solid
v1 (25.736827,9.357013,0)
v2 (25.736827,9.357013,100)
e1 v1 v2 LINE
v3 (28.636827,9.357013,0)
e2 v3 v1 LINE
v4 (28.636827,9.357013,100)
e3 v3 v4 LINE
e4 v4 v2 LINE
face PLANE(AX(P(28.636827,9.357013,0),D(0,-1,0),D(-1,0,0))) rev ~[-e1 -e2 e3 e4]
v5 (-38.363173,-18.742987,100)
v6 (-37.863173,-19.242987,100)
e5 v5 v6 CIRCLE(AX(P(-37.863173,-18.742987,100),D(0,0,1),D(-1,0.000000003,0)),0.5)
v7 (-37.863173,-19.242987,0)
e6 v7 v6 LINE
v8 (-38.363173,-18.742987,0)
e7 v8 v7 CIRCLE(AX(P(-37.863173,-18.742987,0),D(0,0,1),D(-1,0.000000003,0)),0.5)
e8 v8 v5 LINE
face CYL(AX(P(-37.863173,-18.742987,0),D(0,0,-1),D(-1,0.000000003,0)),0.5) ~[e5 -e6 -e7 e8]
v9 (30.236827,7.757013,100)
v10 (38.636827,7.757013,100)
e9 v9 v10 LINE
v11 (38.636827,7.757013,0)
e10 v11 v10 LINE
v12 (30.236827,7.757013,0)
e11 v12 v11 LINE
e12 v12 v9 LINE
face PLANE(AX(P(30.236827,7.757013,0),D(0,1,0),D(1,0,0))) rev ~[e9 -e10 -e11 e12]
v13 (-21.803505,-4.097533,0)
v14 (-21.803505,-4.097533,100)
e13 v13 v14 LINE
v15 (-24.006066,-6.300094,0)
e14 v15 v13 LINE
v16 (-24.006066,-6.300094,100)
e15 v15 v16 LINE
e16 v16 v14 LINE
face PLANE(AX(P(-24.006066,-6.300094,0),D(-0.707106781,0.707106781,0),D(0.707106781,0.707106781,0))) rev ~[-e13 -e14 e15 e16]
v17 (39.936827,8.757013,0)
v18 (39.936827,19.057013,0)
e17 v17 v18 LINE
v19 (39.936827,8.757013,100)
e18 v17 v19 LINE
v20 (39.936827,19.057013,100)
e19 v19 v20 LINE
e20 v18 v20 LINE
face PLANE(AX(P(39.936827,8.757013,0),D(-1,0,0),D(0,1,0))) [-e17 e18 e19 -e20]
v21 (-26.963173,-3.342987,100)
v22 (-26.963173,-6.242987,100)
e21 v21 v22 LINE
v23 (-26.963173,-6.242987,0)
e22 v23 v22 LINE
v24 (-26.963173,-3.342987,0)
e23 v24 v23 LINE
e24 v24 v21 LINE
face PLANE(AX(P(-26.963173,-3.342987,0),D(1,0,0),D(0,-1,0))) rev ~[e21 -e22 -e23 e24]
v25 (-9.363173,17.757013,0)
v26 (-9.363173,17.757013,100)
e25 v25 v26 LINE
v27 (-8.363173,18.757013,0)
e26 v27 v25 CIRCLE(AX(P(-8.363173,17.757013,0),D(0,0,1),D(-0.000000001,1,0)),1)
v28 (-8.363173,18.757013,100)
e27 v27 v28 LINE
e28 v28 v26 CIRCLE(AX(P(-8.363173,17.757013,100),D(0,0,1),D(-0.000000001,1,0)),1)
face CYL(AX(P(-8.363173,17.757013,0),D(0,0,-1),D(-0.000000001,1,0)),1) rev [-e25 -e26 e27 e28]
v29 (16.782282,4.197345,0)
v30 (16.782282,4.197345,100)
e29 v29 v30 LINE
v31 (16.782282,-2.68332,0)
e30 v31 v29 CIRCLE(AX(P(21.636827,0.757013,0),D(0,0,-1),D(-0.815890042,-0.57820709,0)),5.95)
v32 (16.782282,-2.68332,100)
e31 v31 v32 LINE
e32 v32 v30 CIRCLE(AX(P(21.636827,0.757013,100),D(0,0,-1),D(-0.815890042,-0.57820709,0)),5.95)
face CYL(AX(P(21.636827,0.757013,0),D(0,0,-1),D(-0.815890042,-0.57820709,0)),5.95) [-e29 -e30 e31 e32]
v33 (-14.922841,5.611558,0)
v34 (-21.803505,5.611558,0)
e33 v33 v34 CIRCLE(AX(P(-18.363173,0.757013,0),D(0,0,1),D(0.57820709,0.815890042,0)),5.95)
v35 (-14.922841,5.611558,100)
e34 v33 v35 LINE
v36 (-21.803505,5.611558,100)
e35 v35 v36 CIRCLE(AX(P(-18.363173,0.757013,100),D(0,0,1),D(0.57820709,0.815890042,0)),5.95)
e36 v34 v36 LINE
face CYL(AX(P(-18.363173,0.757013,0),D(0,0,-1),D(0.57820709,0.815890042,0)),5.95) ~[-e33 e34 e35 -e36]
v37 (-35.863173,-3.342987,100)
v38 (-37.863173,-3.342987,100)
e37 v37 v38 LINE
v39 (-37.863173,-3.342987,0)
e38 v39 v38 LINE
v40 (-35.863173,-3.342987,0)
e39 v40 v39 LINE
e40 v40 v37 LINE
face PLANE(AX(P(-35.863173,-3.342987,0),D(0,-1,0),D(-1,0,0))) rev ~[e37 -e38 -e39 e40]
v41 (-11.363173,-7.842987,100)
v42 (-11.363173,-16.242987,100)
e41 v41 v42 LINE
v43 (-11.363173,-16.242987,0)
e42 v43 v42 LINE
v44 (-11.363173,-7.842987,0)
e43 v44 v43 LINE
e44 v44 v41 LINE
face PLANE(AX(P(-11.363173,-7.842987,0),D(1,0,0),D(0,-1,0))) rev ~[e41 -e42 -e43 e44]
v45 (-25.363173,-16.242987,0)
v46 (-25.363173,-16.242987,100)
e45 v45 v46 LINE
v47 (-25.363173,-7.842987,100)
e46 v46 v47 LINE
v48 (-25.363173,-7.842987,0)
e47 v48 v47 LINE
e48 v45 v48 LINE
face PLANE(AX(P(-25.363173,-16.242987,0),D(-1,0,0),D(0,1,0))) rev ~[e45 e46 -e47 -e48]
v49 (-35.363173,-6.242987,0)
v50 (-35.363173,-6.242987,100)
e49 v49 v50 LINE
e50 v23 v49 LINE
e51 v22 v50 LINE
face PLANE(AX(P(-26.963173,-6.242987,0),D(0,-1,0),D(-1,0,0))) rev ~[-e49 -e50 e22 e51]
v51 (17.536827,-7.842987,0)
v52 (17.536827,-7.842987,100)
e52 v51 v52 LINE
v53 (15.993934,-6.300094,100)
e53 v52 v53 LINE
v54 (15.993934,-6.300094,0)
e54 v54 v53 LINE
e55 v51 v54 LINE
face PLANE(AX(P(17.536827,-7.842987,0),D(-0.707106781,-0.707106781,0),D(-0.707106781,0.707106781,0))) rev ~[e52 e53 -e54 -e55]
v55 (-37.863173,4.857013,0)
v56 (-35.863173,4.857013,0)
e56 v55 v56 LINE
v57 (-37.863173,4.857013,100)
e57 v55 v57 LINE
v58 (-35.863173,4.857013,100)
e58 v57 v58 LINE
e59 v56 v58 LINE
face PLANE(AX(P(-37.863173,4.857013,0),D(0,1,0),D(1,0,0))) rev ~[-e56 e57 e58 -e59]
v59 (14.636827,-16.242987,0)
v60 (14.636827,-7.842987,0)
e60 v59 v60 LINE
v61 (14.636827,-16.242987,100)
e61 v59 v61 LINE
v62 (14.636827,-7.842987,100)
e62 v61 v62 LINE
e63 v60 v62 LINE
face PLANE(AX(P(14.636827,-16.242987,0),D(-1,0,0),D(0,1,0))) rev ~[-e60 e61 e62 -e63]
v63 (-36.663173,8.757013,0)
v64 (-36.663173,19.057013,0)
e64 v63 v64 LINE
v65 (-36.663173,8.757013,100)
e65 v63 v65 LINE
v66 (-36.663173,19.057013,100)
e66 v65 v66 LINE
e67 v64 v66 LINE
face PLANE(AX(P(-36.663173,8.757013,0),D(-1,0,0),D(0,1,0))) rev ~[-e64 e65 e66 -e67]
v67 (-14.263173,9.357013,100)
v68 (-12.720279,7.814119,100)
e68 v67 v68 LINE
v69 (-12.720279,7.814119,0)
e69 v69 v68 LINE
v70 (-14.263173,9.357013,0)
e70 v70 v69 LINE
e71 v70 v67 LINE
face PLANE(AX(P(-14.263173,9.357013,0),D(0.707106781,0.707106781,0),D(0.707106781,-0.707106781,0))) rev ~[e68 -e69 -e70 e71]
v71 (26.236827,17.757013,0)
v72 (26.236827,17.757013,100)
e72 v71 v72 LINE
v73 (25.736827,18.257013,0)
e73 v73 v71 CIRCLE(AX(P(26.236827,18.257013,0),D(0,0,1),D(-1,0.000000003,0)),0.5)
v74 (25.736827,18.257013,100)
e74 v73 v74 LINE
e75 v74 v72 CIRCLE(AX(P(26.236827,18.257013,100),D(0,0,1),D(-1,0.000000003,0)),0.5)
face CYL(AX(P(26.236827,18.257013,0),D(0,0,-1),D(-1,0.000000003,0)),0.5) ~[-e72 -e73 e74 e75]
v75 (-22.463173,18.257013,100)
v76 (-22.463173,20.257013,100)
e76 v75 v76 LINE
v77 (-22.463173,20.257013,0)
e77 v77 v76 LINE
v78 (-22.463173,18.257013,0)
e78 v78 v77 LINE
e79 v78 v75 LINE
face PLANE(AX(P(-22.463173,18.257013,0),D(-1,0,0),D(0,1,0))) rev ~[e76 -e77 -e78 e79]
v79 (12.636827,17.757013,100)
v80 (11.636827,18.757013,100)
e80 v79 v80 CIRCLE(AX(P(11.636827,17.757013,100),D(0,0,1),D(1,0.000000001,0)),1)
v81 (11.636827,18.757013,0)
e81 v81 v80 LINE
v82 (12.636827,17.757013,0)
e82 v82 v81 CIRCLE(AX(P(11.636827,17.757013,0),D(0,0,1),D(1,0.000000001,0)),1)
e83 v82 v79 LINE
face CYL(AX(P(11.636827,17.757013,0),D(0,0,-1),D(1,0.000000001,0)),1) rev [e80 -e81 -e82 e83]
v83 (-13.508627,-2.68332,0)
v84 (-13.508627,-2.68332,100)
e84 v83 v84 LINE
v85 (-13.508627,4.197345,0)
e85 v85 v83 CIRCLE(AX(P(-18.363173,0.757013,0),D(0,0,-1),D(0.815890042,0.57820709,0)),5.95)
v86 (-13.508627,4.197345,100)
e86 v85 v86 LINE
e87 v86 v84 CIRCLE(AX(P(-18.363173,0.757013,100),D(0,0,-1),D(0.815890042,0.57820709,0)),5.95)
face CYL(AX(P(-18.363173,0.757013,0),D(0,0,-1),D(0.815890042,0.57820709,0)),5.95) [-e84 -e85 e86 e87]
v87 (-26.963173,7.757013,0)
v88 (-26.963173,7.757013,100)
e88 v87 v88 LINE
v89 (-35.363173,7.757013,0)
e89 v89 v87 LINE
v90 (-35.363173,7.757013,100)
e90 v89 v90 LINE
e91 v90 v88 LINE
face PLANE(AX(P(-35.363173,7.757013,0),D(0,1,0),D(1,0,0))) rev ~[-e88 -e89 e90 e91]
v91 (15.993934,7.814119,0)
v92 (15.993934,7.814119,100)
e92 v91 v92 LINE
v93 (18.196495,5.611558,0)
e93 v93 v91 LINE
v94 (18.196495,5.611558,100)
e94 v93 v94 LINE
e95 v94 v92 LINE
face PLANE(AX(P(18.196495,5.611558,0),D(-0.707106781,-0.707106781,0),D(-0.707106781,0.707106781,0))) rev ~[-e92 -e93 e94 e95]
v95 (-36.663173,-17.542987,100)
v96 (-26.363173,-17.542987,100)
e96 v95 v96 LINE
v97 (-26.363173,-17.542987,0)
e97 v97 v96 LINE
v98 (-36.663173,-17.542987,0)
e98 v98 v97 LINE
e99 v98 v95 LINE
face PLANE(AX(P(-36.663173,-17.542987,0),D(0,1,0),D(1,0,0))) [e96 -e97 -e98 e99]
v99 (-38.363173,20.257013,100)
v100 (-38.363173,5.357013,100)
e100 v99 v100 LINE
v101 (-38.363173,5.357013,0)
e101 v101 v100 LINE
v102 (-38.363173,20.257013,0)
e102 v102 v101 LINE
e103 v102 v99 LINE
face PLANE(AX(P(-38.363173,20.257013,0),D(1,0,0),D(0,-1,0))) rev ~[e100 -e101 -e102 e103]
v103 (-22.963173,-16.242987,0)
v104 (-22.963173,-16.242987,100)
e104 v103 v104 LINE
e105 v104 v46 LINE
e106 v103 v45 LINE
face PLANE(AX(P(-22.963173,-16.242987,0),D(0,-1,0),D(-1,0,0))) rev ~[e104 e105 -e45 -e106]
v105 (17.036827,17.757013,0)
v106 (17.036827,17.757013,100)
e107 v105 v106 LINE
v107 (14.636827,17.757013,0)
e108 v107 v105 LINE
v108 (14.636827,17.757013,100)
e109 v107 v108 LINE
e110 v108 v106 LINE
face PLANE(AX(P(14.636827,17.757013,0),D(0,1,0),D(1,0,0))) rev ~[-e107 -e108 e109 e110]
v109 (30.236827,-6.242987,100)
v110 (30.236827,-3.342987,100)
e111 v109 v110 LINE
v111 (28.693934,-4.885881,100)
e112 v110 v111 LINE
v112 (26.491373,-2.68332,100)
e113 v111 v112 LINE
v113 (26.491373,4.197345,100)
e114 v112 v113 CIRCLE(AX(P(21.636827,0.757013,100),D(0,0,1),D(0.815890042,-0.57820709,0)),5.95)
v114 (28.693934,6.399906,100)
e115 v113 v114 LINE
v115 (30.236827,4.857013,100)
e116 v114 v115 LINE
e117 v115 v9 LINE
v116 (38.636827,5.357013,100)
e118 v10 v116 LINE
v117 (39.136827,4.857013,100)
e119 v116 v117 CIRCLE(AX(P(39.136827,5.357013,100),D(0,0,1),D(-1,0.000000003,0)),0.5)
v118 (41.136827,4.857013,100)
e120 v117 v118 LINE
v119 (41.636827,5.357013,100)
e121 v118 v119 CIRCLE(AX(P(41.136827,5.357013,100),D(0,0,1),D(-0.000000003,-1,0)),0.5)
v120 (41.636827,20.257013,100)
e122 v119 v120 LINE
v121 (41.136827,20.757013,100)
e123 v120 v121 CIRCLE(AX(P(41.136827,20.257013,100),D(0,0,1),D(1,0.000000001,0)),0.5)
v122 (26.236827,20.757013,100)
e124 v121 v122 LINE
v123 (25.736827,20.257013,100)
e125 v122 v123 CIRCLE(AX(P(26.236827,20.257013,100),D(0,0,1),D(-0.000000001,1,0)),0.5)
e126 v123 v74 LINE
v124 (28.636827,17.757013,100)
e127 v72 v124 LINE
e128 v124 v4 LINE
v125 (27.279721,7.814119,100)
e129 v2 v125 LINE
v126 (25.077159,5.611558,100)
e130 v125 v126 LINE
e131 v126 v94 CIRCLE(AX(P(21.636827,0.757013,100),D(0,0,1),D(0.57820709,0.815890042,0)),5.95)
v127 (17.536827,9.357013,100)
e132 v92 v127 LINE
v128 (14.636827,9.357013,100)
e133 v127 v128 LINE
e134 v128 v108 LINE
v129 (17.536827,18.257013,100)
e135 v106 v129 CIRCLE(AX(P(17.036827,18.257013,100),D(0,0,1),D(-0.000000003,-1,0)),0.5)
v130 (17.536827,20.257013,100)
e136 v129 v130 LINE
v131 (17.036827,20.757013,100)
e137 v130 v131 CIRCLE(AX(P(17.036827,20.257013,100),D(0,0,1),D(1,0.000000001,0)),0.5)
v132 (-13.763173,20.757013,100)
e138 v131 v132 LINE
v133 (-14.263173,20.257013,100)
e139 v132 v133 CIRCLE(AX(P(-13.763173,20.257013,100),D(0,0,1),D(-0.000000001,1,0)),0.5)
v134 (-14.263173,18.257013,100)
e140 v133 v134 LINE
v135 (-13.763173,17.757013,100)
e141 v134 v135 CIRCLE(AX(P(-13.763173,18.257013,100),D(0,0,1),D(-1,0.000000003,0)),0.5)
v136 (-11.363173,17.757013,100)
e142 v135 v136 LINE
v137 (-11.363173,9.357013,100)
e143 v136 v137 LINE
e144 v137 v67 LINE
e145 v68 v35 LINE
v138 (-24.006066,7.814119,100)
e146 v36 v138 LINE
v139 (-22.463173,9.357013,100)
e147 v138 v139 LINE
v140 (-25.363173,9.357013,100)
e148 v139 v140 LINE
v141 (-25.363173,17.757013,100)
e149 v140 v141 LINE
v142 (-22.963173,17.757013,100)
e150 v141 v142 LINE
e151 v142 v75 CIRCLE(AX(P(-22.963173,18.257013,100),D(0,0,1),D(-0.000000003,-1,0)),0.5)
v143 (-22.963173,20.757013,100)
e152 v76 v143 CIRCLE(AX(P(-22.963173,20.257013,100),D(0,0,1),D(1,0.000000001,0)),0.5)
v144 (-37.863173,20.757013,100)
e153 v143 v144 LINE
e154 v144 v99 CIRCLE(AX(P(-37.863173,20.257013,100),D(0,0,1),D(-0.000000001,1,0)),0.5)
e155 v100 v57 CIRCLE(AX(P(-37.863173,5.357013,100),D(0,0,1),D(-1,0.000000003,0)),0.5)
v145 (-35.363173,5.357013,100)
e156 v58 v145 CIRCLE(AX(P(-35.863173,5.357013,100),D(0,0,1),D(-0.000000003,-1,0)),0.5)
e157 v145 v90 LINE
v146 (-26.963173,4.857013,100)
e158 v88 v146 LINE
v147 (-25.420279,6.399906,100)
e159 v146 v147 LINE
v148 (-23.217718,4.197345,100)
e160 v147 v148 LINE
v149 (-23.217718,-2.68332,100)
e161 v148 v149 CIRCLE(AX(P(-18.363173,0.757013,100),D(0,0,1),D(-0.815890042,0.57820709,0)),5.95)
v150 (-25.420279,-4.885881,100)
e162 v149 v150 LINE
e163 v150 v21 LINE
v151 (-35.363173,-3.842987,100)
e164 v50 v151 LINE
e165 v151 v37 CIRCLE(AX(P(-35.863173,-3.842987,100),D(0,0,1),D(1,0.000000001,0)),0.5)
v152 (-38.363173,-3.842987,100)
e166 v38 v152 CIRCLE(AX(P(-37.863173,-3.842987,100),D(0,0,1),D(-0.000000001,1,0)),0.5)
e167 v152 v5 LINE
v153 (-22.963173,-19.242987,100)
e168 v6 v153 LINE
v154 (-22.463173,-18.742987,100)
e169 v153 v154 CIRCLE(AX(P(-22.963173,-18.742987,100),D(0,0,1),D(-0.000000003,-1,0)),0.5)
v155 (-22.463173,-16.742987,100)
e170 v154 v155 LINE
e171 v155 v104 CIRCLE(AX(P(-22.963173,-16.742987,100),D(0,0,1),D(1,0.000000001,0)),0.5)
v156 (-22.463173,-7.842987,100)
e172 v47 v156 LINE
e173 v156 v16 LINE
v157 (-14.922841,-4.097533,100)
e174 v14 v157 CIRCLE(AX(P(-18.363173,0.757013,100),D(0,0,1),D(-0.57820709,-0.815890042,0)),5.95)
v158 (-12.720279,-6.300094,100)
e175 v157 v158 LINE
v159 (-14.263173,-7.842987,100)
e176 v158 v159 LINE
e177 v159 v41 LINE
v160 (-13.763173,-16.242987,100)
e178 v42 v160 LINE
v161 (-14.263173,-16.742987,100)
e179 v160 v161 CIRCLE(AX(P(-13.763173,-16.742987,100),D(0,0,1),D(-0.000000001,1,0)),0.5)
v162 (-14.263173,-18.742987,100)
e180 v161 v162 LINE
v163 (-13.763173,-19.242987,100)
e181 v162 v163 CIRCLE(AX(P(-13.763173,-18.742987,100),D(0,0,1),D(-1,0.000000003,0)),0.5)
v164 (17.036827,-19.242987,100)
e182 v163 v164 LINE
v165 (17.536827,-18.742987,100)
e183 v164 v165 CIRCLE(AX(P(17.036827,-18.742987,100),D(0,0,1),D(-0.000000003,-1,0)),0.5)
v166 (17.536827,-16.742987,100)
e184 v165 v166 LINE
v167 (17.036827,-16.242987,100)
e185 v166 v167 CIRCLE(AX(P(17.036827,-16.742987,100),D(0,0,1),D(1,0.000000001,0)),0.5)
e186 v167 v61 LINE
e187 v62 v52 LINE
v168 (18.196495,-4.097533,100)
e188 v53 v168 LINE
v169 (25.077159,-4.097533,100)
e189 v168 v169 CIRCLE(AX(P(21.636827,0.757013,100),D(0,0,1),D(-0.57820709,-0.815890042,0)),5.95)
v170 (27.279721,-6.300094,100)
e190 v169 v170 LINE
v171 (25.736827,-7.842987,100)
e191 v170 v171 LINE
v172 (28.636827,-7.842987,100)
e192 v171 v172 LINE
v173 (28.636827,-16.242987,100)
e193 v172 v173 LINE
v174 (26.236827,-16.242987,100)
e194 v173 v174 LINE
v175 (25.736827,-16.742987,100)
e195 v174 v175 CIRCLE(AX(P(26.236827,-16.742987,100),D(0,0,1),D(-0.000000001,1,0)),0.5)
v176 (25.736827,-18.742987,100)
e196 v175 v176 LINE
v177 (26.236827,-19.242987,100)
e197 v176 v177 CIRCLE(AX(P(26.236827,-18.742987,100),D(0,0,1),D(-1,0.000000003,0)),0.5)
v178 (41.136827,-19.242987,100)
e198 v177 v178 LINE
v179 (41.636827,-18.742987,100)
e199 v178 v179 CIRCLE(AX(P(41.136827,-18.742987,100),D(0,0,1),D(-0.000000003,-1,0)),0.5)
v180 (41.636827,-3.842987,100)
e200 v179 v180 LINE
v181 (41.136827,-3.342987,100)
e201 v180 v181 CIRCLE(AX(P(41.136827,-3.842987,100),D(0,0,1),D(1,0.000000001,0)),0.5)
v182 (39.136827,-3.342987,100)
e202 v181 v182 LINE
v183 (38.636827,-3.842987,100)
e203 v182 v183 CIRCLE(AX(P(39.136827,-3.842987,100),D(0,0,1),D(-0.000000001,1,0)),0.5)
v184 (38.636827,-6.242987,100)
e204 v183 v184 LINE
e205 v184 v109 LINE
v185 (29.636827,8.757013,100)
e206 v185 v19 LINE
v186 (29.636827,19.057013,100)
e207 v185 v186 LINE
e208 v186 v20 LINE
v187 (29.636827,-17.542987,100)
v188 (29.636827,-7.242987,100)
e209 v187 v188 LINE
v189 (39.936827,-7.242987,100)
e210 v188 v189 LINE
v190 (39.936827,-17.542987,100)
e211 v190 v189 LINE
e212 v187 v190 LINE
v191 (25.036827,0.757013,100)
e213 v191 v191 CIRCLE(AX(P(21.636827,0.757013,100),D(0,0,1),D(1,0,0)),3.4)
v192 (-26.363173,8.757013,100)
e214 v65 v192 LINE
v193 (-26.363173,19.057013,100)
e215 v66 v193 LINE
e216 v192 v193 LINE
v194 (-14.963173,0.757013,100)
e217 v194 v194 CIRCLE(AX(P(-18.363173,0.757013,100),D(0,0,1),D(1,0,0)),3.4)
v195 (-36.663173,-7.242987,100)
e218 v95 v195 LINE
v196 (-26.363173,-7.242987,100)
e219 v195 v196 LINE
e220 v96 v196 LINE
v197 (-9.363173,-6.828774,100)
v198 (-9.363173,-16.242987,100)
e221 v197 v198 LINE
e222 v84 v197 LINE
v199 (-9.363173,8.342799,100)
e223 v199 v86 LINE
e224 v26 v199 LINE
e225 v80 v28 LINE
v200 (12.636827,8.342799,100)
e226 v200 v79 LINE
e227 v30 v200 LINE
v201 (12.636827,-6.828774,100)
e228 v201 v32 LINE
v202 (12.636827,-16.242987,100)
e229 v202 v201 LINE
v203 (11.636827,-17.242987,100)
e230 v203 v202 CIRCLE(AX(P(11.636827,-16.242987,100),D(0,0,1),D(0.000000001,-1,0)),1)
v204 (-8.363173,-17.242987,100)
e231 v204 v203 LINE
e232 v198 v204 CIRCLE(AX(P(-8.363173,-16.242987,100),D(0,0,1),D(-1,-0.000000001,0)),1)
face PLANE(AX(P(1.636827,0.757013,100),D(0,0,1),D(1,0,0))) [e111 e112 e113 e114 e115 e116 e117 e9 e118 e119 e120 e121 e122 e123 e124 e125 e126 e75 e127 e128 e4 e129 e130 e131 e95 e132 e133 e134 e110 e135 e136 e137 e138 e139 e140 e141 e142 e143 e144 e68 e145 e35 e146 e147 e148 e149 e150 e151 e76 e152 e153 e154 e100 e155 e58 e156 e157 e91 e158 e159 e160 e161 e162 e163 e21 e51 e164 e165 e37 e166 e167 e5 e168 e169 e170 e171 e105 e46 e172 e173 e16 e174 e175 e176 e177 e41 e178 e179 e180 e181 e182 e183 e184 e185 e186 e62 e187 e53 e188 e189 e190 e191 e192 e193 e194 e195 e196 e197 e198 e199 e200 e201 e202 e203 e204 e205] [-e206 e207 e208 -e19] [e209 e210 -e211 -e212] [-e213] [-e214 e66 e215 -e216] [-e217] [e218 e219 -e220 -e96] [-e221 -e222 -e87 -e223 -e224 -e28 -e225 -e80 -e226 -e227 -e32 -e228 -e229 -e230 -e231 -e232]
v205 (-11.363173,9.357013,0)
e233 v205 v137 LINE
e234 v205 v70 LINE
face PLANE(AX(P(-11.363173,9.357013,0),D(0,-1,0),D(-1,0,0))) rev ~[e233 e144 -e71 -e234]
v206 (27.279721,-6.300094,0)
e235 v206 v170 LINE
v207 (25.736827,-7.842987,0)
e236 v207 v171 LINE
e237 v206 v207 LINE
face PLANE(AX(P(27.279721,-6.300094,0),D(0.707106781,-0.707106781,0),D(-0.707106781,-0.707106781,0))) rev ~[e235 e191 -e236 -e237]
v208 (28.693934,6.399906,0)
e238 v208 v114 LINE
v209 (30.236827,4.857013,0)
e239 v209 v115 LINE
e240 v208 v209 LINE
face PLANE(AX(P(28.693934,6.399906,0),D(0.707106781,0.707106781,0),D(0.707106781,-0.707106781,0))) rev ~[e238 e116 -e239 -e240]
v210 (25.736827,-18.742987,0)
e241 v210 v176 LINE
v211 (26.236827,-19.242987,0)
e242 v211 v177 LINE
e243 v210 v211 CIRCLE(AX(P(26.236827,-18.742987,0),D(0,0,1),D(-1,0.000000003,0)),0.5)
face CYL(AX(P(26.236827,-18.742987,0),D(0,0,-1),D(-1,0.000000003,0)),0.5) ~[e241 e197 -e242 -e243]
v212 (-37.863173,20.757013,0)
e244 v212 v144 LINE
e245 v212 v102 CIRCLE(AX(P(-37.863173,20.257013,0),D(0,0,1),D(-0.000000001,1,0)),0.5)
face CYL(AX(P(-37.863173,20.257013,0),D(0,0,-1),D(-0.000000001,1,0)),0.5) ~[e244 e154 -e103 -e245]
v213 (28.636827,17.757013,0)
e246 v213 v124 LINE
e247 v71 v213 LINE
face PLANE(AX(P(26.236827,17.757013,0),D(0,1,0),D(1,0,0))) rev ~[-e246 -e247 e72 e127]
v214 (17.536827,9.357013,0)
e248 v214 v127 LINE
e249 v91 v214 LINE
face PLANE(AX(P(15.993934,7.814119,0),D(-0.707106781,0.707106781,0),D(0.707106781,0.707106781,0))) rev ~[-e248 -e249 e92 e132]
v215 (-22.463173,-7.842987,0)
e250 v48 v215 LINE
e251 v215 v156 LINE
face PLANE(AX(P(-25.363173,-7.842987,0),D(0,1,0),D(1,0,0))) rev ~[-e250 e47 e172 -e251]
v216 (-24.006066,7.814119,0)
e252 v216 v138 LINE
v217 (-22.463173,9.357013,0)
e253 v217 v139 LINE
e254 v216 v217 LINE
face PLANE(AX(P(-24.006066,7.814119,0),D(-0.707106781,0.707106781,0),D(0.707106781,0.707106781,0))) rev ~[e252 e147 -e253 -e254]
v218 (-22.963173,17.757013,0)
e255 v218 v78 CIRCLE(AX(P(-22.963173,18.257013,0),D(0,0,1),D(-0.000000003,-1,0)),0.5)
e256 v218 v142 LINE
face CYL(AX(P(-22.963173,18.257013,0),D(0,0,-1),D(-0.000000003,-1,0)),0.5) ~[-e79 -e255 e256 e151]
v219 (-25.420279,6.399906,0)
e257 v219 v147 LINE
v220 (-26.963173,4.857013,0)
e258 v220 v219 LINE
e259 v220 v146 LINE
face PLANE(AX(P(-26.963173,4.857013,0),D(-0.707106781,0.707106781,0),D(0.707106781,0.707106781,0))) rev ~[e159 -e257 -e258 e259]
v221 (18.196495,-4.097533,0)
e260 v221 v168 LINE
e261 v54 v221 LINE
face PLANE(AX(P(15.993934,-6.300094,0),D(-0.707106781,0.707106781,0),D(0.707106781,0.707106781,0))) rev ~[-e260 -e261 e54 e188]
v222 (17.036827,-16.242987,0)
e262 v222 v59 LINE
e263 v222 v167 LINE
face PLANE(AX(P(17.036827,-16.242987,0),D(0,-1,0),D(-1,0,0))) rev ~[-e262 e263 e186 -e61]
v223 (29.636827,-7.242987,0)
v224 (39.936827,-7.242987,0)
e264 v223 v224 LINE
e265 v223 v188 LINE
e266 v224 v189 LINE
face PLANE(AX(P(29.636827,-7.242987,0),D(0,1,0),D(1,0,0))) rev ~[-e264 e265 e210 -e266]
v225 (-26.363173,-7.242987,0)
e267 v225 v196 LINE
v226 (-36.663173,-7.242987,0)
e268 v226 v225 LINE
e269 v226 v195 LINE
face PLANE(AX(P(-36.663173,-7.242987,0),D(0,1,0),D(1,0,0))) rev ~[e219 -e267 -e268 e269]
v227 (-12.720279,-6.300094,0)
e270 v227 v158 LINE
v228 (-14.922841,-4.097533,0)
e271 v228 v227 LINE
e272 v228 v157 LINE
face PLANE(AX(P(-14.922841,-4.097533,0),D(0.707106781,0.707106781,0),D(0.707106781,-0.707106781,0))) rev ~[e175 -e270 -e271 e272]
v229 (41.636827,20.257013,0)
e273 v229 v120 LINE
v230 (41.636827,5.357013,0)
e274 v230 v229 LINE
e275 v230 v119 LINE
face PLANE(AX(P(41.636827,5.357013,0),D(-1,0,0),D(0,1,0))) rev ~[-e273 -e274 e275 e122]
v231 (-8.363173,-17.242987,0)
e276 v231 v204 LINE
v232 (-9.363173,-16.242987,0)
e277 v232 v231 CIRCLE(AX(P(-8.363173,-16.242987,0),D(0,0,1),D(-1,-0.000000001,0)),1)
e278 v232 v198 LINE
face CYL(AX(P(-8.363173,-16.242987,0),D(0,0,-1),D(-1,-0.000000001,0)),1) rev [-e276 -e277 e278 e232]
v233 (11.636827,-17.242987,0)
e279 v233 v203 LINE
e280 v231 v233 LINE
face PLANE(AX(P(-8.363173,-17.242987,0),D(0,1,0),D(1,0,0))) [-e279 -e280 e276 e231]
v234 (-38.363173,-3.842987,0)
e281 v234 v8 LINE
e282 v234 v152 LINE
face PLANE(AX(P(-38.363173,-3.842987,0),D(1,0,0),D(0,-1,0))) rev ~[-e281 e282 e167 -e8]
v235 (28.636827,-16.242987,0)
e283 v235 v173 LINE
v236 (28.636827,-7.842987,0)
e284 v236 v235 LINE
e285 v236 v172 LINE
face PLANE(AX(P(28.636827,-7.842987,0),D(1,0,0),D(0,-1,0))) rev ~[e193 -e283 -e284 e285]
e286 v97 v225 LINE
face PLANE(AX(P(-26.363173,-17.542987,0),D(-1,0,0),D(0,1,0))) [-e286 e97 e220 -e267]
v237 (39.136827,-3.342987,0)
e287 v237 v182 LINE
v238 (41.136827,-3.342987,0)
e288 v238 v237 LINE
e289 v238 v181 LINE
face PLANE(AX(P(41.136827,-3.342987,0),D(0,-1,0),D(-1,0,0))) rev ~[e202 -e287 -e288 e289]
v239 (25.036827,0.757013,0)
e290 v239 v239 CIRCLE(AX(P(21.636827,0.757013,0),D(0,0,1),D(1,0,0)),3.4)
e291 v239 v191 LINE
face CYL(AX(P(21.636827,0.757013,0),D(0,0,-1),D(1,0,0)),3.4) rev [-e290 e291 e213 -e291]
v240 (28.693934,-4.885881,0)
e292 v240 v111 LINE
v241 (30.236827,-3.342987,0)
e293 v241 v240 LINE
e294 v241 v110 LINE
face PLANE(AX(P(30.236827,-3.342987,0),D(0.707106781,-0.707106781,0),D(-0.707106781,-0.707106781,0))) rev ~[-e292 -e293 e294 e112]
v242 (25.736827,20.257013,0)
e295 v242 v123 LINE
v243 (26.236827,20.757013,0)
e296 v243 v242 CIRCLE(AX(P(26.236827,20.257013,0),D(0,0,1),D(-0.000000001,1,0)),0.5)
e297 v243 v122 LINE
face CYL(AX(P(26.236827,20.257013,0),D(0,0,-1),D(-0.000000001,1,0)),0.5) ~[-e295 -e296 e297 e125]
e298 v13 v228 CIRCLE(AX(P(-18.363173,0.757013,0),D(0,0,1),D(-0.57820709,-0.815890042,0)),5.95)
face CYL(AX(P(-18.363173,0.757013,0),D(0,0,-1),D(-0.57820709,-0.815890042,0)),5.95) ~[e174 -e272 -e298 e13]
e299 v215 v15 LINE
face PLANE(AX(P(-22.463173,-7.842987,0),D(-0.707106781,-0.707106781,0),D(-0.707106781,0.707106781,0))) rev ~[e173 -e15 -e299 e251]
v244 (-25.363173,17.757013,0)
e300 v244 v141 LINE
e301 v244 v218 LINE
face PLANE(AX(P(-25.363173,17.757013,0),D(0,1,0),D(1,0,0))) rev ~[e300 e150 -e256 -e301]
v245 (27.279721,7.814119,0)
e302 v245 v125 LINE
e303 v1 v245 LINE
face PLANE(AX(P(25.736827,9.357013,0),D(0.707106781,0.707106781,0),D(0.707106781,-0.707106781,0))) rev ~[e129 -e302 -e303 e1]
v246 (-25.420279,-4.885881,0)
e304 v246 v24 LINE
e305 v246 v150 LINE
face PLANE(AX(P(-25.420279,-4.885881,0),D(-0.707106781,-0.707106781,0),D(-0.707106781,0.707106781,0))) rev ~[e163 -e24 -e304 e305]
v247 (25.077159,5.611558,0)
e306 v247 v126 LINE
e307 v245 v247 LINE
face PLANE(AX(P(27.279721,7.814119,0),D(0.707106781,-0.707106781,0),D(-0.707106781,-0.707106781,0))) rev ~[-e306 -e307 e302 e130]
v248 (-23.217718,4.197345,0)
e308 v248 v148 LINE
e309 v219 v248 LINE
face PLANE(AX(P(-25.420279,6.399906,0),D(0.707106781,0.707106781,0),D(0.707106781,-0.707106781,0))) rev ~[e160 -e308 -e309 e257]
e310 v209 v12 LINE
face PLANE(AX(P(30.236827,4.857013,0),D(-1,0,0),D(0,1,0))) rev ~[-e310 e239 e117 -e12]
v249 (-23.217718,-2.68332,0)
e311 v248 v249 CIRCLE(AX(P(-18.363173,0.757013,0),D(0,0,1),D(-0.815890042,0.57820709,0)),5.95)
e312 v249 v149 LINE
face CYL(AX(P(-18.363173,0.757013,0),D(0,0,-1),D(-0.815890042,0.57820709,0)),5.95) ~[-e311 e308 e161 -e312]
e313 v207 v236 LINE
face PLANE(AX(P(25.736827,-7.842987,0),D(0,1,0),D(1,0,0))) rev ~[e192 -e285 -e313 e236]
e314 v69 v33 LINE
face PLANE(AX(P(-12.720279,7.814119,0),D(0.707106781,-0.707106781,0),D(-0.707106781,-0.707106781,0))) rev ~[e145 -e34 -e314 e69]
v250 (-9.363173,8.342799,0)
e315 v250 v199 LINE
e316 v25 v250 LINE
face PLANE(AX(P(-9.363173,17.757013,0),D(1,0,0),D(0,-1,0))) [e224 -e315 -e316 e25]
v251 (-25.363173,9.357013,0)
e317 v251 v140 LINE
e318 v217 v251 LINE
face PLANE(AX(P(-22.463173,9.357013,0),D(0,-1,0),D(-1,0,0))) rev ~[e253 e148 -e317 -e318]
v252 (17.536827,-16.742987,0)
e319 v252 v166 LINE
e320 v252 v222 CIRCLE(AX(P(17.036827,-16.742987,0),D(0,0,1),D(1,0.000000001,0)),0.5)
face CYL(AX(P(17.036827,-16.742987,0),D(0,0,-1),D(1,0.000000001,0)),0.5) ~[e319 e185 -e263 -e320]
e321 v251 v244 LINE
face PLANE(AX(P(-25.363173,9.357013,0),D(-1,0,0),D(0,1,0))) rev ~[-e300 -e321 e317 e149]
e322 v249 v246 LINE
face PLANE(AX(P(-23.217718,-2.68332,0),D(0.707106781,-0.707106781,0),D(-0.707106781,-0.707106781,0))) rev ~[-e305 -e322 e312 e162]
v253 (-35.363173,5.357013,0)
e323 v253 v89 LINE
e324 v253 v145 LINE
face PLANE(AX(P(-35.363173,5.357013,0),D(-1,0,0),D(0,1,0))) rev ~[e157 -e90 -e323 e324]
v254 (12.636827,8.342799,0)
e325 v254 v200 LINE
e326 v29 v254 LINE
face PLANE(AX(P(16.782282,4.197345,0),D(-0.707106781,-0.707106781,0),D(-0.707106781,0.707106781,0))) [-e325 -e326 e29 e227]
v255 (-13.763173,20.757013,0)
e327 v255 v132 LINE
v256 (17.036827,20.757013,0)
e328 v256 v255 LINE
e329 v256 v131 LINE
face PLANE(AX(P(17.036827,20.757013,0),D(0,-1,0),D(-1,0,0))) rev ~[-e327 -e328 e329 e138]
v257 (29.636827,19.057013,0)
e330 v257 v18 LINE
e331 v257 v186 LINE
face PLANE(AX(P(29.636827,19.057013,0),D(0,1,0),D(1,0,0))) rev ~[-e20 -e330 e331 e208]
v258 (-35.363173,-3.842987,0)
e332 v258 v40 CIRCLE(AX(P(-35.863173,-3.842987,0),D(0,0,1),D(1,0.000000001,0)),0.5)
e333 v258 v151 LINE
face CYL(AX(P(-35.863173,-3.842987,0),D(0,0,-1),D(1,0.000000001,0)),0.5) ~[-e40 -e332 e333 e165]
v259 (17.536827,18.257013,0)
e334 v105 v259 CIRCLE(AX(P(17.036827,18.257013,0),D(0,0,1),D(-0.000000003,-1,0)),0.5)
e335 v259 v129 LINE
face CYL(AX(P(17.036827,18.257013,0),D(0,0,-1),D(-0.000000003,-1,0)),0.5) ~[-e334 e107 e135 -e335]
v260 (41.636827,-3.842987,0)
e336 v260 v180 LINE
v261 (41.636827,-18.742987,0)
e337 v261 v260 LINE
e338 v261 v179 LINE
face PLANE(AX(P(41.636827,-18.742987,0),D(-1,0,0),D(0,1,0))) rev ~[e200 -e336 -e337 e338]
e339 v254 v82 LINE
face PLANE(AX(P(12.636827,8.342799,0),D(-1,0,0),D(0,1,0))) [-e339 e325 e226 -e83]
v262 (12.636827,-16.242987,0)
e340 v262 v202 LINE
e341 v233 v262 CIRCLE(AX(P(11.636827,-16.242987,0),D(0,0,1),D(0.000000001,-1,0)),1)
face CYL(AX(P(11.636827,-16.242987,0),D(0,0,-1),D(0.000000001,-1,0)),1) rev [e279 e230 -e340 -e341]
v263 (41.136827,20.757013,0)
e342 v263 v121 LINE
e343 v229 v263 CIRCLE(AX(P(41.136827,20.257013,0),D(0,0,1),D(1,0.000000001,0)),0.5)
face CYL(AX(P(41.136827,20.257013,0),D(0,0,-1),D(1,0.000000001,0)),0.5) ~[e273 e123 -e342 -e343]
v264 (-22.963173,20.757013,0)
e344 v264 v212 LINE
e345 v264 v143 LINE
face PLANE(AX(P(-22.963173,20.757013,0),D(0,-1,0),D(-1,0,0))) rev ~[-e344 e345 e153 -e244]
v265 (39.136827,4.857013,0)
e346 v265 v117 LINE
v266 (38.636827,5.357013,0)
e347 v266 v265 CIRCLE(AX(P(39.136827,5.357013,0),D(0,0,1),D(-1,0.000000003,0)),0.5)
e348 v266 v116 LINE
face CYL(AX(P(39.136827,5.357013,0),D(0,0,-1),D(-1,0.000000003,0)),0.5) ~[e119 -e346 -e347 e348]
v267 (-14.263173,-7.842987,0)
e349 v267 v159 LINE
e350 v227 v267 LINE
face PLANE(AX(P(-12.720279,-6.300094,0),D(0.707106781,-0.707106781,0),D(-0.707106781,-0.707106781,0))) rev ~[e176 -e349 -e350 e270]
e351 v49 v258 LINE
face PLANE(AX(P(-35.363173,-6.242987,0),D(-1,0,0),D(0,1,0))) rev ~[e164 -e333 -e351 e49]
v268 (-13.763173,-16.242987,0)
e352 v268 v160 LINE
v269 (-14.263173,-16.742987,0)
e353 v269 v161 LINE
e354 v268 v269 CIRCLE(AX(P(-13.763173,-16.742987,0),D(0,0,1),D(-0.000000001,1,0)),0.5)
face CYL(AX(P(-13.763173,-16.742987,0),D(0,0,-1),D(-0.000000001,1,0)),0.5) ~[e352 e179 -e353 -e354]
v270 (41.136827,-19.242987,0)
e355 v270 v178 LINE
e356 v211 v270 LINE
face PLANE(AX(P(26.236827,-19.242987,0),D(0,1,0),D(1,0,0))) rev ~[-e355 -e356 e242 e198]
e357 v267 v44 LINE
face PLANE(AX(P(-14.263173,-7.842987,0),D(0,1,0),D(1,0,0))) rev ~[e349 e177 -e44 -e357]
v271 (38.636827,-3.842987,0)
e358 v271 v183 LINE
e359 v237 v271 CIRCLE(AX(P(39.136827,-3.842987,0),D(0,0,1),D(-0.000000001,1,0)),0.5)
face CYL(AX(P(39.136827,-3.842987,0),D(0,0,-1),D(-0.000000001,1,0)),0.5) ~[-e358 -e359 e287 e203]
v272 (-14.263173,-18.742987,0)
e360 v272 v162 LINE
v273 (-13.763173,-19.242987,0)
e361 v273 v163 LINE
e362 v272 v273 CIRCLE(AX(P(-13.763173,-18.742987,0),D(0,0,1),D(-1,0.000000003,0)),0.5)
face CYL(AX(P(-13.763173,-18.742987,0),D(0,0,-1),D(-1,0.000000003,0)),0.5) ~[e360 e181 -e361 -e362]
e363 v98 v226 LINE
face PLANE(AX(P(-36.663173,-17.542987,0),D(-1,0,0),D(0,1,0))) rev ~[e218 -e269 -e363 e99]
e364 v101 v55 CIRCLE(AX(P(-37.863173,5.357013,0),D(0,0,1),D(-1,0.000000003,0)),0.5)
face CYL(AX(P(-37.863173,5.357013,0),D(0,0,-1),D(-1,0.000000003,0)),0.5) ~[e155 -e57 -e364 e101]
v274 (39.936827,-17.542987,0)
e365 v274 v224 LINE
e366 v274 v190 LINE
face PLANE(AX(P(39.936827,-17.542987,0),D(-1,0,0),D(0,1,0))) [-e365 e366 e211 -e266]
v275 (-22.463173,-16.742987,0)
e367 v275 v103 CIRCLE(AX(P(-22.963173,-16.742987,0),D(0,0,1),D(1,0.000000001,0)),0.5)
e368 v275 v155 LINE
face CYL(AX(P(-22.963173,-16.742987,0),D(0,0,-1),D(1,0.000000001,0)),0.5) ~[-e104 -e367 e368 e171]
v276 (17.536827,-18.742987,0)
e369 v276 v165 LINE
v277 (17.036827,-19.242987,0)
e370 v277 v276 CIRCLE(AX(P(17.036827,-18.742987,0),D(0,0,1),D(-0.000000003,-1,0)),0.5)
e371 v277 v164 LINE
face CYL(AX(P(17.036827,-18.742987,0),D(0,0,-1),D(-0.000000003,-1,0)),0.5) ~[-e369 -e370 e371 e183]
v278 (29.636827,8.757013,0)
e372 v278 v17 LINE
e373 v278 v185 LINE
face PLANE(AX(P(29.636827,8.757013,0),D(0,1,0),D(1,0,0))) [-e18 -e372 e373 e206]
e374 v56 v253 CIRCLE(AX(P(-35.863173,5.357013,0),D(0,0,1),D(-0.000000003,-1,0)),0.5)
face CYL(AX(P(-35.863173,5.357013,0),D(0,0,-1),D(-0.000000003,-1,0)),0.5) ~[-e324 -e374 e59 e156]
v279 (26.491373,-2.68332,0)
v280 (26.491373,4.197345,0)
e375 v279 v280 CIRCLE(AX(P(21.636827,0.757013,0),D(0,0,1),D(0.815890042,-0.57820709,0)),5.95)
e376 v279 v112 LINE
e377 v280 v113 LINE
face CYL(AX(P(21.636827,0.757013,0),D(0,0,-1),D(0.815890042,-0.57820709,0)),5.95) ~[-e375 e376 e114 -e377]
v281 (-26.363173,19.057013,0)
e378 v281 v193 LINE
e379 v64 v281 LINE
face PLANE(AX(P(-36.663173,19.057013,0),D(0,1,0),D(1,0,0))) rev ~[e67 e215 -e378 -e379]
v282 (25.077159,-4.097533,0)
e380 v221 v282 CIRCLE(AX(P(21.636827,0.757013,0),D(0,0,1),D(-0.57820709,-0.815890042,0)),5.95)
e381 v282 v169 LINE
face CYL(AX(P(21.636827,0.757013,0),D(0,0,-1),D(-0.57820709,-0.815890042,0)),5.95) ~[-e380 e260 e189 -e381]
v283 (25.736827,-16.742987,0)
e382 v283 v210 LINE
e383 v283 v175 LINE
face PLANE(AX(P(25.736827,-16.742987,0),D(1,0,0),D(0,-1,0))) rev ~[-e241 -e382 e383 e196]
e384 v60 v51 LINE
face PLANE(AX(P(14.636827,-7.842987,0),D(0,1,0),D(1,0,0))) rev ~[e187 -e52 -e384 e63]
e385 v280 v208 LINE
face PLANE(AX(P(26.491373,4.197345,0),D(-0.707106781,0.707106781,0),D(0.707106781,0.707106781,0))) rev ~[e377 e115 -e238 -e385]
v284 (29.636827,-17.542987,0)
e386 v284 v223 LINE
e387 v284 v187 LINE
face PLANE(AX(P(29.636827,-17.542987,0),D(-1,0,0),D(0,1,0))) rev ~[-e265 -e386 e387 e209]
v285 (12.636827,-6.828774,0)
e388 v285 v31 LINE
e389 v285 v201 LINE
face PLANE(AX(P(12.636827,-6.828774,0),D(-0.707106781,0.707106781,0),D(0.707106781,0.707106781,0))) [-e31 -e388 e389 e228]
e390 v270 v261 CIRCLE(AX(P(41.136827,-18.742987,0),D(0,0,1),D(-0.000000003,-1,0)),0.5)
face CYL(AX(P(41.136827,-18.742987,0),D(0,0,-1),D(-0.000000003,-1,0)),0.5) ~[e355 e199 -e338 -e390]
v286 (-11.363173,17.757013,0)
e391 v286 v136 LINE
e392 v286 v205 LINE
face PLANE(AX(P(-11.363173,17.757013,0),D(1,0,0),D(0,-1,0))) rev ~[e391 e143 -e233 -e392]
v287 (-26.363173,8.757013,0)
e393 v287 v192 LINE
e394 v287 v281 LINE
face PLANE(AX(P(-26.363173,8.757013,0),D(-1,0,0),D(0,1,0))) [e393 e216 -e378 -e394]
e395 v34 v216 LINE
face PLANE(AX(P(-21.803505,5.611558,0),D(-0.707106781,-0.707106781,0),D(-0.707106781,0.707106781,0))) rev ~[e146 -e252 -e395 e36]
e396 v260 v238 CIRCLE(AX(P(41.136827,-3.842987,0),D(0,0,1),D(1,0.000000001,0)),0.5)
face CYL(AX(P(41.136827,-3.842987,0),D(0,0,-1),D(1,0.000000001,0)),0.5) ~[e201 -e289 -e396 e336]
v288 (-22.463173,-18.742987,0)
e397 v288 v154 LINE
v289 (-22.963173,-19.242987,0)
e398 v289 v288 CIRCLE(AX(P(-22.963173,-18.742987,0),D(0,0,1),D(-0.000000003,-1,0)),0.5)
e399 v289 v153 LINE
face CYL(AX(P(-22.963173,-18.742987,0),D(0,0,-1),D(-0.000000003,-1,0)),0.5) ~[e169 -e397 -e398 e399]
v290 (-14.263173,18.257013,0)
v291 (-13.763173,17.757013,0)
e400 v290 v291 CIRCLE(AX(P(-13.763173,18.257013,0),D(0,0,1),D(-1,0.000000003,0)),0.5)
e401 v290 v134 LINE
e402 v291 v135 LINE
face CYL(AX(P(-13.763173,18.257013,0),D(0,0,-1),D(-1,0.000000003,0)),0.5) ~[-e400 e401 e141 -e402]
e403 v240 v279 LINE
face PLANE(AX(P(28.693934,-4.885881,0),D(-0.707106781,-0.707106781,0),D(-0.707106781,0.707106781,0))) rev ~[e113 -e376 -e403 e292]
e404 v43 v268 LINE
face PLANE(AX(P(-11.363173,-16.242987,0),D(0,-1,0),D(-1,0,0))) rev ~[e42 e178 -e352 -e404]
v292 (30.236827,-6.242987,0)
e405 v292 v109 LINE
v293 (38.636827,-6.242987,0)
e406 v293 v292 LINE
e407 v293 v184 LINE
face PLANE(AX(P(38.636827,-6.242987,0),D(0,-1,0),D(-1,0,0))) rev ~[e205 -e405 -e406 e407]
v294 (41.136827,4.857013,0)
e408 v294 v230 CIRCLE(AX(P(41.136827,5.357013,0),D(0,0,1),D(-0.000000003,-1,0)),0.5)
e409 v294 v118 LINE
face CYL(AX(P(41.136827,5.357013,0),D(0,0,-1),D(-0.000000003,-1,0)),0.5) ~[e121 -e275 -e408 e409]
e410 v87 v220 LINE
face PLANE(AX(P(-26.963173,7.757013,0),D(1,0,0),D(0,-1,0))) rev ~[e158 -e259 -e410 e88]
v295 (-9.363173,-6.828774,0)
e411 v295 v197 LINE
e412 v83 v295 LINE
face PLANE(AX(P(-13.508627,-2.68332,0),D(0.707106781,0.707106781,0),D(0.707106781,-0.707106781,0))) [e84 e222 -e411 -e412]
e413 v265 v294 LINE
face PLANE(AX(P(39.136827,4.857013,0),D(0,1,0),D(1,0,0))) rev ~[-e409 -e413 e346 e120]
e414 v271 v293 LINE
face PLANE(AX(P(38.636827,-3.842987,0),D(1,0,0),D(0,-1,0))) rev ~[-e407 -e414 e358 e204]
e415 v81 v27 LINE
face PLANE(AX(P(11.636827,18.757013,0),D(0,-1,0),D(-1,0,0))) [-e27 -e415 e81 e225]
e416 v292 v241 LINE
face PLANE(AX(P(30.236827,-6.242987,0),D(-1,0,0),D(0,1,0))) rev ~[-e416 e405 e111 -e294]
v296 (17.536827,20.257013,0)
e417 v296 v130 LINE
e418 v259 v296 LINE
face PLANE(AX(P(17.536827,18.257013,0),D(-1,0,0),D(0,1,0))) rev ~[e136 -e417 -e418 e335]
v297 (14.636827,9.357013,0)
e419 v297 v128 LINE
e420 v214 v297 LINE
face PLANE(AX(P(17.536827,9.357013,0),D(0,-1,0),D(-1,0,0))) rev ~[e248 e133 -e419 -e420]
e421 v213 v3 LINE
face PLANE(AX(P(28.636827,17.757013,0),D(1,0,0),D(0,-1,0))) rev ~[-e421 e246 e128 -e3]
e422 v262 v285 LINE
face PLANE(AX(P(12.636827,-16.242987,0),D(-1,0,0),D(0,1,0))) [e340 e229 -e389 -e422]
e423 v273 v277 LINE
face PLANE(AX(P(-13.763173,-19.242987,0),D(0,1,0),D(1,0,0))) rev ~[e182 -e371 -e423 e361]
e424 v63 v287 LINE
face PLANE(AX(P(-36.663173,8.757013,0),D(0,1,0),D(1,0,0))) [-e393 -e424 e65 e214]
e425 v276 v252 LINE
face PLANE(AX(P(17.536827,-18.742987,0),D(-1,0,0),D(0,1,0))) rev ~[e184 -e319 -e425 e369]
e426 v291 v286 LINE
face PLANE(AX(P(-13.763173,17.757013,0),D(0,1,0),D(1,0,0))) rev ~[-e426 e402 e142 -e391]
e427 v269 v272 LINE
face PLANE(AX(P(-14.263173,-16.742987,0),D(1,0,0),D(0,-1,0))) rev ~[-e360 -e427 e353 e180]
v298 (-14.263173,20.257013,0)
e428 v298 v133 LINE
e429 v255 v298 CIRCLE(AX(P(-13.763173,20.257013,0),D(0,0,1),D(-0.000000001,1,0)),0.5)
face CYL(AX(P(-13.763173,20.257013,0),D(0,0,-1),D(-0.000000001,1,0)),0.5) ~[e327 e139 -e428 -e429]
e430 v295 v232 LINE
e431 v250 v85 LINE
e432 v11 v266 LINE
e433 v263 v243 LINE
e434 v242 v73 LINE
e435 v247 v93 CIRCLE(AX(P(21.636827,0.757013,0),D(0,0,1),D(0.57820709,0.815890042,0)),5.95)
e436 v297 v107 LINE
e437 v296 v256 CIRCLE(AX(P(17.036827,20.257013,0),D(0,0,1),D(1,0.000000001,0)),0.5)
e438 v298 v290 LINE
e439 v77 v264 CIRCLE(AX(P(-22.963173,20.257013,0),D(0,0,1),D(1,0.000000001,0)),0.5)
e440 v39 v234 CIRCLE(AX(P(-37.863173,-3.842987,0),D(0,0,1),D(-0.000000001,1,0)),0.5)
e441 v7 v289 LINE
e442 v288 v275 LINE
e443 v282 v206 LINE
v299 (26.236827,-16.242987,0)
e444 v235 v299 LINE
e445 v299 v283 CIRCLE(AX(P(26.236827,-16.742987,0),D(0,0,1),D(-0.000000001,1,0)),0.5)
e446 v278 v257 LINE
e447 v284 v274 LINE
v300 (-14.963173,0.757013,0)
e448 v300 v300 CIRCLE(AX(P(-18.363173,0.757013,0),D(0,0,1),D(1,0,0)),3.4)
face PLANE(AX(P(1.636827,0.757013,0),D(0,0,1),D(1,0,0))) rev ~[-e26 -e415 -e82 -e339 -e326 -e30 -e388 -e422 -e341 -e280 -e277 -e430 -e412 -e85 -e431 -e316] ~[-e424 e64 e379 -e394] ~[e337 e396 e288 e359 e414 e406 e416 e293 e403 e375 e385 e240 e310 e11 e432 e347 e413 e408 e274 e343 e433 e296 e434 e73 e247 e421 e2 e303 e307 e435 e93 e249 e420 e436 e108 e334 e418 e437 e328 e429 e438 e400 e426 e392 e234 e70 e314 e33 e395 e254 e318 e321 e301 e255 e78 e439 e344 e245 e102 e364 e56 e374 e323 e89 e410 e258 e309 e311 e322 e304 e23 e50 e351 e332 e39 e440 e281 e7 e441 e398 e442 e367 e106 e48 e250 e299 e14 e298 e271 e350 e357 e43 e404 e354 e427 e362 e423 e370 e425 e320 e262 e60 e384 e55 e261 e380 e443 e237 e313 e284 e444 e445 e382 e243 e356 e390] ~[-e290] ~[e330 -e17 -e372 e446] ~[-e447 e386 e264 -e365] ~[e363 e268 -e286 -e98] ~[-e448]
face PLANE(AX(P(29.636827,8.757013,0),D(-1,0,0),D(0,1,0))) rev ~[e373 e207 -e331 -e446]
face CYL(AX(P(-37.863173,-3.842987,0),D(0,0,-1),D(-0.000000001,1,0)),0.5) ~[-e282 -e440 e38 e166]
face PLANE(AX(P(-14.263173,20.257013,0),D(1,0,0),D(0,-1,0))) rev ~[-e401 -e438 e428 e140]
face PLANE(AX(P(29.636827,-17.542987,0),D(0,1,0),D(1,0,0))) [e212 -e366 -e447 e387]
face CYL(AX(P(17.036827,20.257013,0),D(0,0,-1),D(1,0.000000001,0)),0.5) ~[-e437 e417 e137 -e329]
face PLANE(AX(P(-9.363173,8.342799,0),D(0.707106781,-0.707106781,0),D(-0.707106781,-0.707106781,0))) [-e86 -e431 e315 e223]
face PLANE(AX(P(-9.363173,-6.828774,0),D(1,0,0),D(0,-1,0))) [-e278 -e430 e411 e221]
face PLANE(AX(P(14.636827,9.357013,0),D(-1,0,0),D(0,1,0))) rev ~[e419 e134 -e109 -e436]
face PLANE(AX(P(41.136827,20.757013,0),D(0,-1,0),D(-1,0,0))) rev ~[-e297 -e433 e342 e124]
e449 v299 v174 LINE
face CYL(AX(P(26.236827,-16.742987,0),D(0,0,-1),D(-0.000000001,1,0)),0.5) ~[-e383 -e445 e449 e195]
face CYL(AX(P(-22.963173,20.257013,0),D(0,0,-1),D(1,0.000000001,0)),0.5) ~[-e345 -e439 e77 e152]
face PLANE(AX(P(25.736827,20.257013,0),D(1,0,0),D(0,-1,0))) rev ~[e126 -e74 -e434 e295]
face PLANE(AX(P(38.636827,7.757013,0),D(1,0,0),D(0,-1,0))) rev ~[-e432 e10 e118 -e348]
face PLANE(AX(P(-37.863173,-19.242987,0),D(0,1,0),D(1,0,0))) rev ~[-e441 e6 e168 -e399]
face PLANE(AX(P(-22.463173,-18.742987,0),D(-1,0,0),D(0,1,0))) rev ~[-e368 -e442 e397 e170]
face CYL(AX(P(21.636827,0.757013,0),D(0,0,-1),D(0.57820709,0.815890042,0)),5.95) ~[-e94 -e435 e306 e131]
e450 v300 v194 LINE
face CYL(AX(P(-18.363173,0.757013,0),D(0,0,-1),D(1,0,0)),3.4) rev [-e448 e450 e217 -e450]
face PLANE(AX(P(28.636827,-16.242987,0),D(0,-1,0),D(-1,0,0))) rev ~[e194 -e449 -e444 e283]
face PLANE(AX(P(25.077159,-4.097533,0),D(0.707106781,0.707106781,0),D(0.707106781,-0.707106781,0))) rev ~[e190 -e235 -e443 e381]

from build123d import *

# Parameters (mm, degrees)
SKETCH_1_R      = 3.4
SKETCH_1_W      = 10.3
SKETCH_1_H      = 10.3
EXTRUDE_1_DEPTH = 100


with BuildPart() as part:
    # 草图1 → 凸台-拉伸1 (new body)
    with BuildSketch(Plane.XY):
        with BuildLine():
            Line((-22.463172707, 9.357012623), (-25.363172707, 9.357012623))
            Line((-25.363172707, 9.357012623), (-25.363172707, 17.757012623))
            Line((-25.363172707, 17.757012623), (-22.963172707, 17.757012623))
            ThreePointArc((-22.963172707, 17.757012623), (-22.609619316, 17.903459232), (-22.463172707, 18.257012623))
            Line((-22.463172707, 18.257012623), (-22.463172707, 20.257012623))
            ThreePointArc((-22.463172707, 20.257012623), (-22.609619316, 20.610566013), (-22.963172707, 20.757012623))
            Line((-22.963172707, 20.757012623), (-37.863172707, 20.757012623))
            ThreePointArc((-37.863172707, 20.757012623), (-38.216726098, 20.610566013), (-38.363172707, 20.257012623))
            Line((-38.363172707, 20.257012623), (-38.363172707, 5.357012623))
            ThreePointArc((-38.363172707, 5.357012623), (-38.216726098, 5.003459232), (-37.863172707, 4.857012623))
            Line((-37.863172707, 4.857012623), (-35.863172707, 4.857012623))
            ThreePointArc((-35.863172707, 4.857012623), (-35.509619316, 5.003459232), (-35.363172707, 5.357012623))
            Line((-35.363172707, 5.357012623), (-35.363172707, 7.757012623))
            Line((-35.363172707, 7.757012623), (-26.963172707, 7.757012623))
            Line((-26.963172707, 7.757012623), (-26.963172707, 4.857012623))
            Line((-26.963172707, 4.857012623), (-25.420279488, 6.399905842))
            Line((-25.420279488, 6.399905842), (-23.217718457, 4.19734481))
            ThreePointArc((-23.217718457, 4.19734481), (-24.313172707, 0.757012623), (-23.217718457, -2.683319565))
            Line((-23.217718457, -2.683319565), (-25.420279488, -4.885880596))
            Line((-25.420279488, -4.885880596), (-26.963172707, -3.342987377))
            Line((-26.963172707, -3.342987377), (-26.963172707, -6.242987377))
            Line((-26.963172707, -6.242987377), (-35.363172707, -6.242987377))
            Line((-35.363172707, -6.242987377), (-35.363172707, -3.842987377))
            ThreePointArc((-35.363172707, -3.842987377), (-35.509619316, -3.489433987), (-35.863172707, -3.342987377))
            Line((-35.863172707, -3.342987377), (-37.863172707, -3.342987377))
            ThreePointArc((-37.863172707, -3.342987377), (-38.216726098, -3.489433987), (-38.363172707, -3.842987377))
            Line((-38.363172707, -3.842987377), (-38.363172707, -18.742987377))
            ThreePointArc((-38.363172707, -18.742987377), (-38.216726098, -19.096540768), (-37.863172707, -19.242987377))
            Line((-37.863172707, -19.242987377), (-22.963172707, -19.242987377))
            ThreePointArc((-22.963172707, -19.242987377), (-22.609619316, -19.096540768), (-22.463172707, -18.742987377))
            Line((-22.463172707, -18.742987377), (-22.463172707, -16.742987377))
            ThreePointArc((-22.463172707, -16.742987377), (-22.609619316, -16.389433987), (-22.963172707, -16.242987377))
            Line((-22.963172707, -16.242987377), (-25.363172707, -16.242987377))
            Line((-25.363172707, -16.242987377), (-25.363172707, -7.842987377))
            Line((-25.363172707, -7.842987377), (-22.463172707, -7.842987377))
            Line((-22.463172707, -7.842987377), (-24.006065926, -6.300094158))
            Line((-24.006065926, -6.300094158), (-21.803504895, -4.097533127))
            ThreePointArc((-21.803504895, -4.097533127), (-18.363172707, -5.192987377), (-14.922840519, -4.097533127))
            Line((-14.922840519, -4.097533127), (-12.720279488, -6.300094158))
            Line((-12.720279488, -6.300094158), (-14.263172707, -7.842987377))
            Line((-14.263172707, -7.842987377), (-11.363172707, -7.842987377))
            Line((-11.363172707, -7.842987377), (-11.363172707, -16.242987377))
            Line((-11.363172707, -16.242987377), (-13.763172707, -16.242987377))
            ThreePointArc((-13.763172707, -16.242987377), (-14.116726098, -16.389433987), (-14.263172707, -16.742987377))
            Line((-14.263172707, -16.742987377), (-14.263172707, -18.742987377))
            ThreePointArc((-14.263172707, -18.742987377), (-14.116726098, -19.096540768), (-13.763172707, -19.242987377))
            Line((-13.763172707, -19.242987377), (1.136827293, -19.242987377))
            Line((1.136827293, -19.242987377), (2.136827293, -19.242987377))
            Line((2.136827293, -19.242987377), (17.036827293, -19.242987377))
            ThreePointArc((17.036827293, -19.242987377), (17.390380684, -19.096540768), (17.536827293, -18.742987377))
            Line((17.536827293, -18.742987377), (17.536827293, -16.742987377))
            ThreePointArc((17.536827293, -16.742987377), (17.390380684, -16.389433987), (17.036827293, -16.242987377))
            Line((17.036827293, -16.242987377), (14.636827293, -16.242987377))
            Line((14.636827293, -16.242987377), (14.636827293, -7.842987377))
            Line((14.636827293, -7.842987377), (17.536827293, -7.842987377))
            Line((17.536827293, -7.842987377), (15.993934074, -6.300094158))
            Line((15.993934074, -6.300094158), (18.196495105, -4.097533127))
            ThreePointArc((18.196495105, -4.097533127), (21.636827293, -5.192987377), (25.077159481, -4.097533127))
            Line((25.077159481, -4.097533127), (27.279720512, -6.300094158))
            Line((27.279720512, -6.300094158), (25.736827293, -7.842987377))
            Line((25.736827293, -7.842987377), (28.636827293, -7.842987377))
            Line((28.636827293, -7.842987377), (28.636827293, -16.242987377))
            Line((28.636827293, -16.242987377), (26.236827293, -16.242987377))
            ThreePointArc((26.236827293, -16.242987377), (25.883273902, -16.389433987), (25.736827293, -16.742987377))
            Line((25.736827293, -16.742987377), (25.736827293, -18.742987377))
            ThreePointArc((25.736827293, -18.742987377), (25.883273902, -19.096540768), (26.236827293, -19.242987377))
            Line((26.236827293, -19.242987377), (41.136827293, -19.242987377))
            ThreePointArc((41.136827293, -19.242987377), (41.490380684, -19.096540768), (41.636827293, -18.742987377))
            Line((41.636827293, -18.742987377), (41.636827293, -3.842987377))
            ThreePointArc((41.636827293, -3.842987377), (41.490380684, -3.489433987), (41.136827293, -3.342987377))
            Line((41.136827293, -3.342987377), (39.136827293, -3.342987377))
            ThreePointArc((39.136827293, -3.342987377), (38.783273902, -3.489433987), (38.636827293, -3.842987377))
            Line((38.636827293, -3.842987377), (38.636827293, -6.242987377))
            Line((38.636827293, -6.242987377), (30.236827293, -6.242987377))
            Line((30.236827293, -6.242987377), (30.236827293, -3.342987377))
            Line((30.236827293, -3.342987377), (28.693934074, -4.885880596))
            Line((28.693934074, -4.885880596), (26.491373043, -2.683319565))
            ThreePointArc((26.491373043, -2.683319565), (27.586827293, 0.757012623), (26.491373043, 4.19734481))
            Line((26.491373043, 4.19734481), (28.693934074, 6.399905842))
            Line((28.693934074, 6.399905842), (30.236827293, 4.857012623))
            Line((30.236827293, 4.857012623), (30.236827293, 7.757012623))
            Line((30.236827293, 7.757012623), (38.636827293, 7.757012623))
            Line((38.636827293, 7.757012623), (38.636827293, 5.357012623))
            ThreePointArc((38.636827293, 5.357012623), (38.783273902, 5.003459232), (39.136827293, 4.857012623))
            Line((39.136827293, 4.857012623), (41.136827293, 4.857012623))
            ThreePointArc((41.136827293, 4.857012623), (41.490380684, 5.003459232), (41.636827293, 5.357012623))
            Line((41.636827293, 5.357012623), (41.636827293, 20.257012623))
            ThreePointArc((41.636827293, 20.257012623), (41.490380684, 20.610566013), (41.136827293, 20.757012623))
            Line((41.136827293, 20.757012623), (26.236827293, 20.757012623))
            ThreePointArc((26.236827293, 20.757012623), (25.883273902, 20.610566013), (25.736827293, 20.257012623))
            Line((25.736827293, 20.257012623), (25.736827293, 18.257012623))
            ThreePointArc((25.736827293, 18.257012623), (25.883273902, 17.903459232), (26.236827293, 17.757012623))
            Line((26.236827293, 17.757012623), (28.636827293, 17.757012623))
            Line((28.636827293, 17.757012623), (28.636827293, 9.357012623))
            Line((28.636827293, 9.357012623), (25.736827293, 9.357012623))
            Line((25.736827293, 9.357012623), (27.279720512, 7.814119404))
            Line((27.279720512, 7.814119404), (25.077159481, 5.611558373))
            ThreePointArc((25.077159481, 5.611558373), (21.636827293, 6.707012623), (18.196495105, 5.611558373))
            Line((18.196495105, 5.611558373), (15.993934074, 7.814119404))
            Line((15.993934074, 7.814119404), (17.536827293, 9.357012623))
            Line((17.536827293, 9.357012623), (14.636827293, 9.357012623))
            Line((14.636827293, 9.357012623), (14.636827293, 17.757012623))
            Line((14.636827293, 17.757012623), (17.036827293, 17.757012623))
            ThreePointArc((17.036827293, 17.757012623), (17.390380684, 17.903459232), (17.536827293, 18.257012623))
            Line((17.536827293, 18.257012623), (17.536827293, 20.257012623))
            ThreePointArc((17.536827293, 20.257012623), (17.390380684, 20.610566013), (17.036827293, 20.757012623))
            Line((17.036827293, 20.757012623), (2.136827293, 20.757012623))
            Line((2.136827293, 20.757012623), (1.136827293, 20.757012623))
            Line((1.136827293, 20.757012623), (-13.763172707, 20.757012623))
            ThreePointArc((-13.763172707, 20.757012623), (-14.116726098, 20.610566013), (-14.263172707, 20.257012623))
            Line((-14.263172707, 20.257012623), (-14.263172707, 18.257012623))
            ThreePointArc((-14.263172707, 18.257012623), (-14.116726098, 17.903459232), (-13.763172707, 17.757012623))
            Line((-13.763172707, 17.757012623), (-11.363172707, 17.757012623))
            Line((-11.363172707, 17.757012623), (-11.363172707, 9.357012623))
            Line((-11.363172707, 9.357012623), (-14.263172707, 9.357012623))
            Line((-14.263172707, 9.357012623), (-12.720279488, 7.814119404))
            Line((-12.720279488, 7.814119404), (-14.922840519, 5.611558373))
            ThreePointArc((-14.922840519, 5.611558373), (-18.363172707, 6.707012623), (-21.803504895, 5.611558373))
            Line((-21.803504895, 5.611558373), (-24.006065926, 7.814119404))
            Line((-24.006065926, 7.814119404), (-22.463172707, 9.357012623))
        make_face()
        with Locations((-18.363172707, 0.757012623)):
            Circle(SKETCH_1_R, mode=Mode.SUBTRACT)
        with Locations((21.636827293, 0.757012623)):
            Circle(SKETCH_1_R, mode=Mode.SUBTRACT)
        with Locations((-31.513172707, 13.907012623)):
            Rectangle(SKETCH_1_W, SKETCH_1_H, mode=Mode.SUBTRACT)
        with BuildLine():
            Line((-9.363172707, 17.757012623), (-9.363172707, 8.34279906))
            Line((-9.363172707, 8.34279906), (-13.508626957, 4.19734481))
            ThreePointArc((-13.508626957, 4.19734481), (-12.413172707, 0.757012623), (-13.508626957, -2.683319565))
            Line((-13.508626957, -2.683319565), (-9.363172707, -6.828773815))
            Line((-9.363172707, -6.828773815), (-9.363172707, -16.242987377))
            ThreePointArc((-9.363172707, -16.242987377), (-9.070279488, -16.950094158), (-8.363172707, -17.242987377))
            Line((-8.363172707, -17.242987377), (11.636827293, -17.242987377))
            ThreePointArc((11.636827293, -17.242987377), (12.343934074, -16.950094158), (12.636827293, -16.242987377))
            Line((12.636827293, -16.242987377), (12.636827293, -6.828773815))
            Line((12.636827293, -6.828773815), (16.782281543, -2.683319565))
            ThreePointArc((16.782281543, -2.683319565), (15.686827293, 0.757012623), (16.782281543, 4.19734481))
            Line((16.782281543, 4.19734481), (12.636827293, 8.34279906))
            Line((12.636827293, 8.34279906), (12.636827293, 17.757012623))
            ThreePointArc((12.636827293, 17.757012623), (12.343934074, 18.464119404), (11.636827293, 18.757012623))
            Line((11.636827293, 18.757012623), (-8.363172707, 18.757012623))
            ThreePointArc((-8.363172707, 18.757012623), (-9.070279488, 18.464119404), (-9.363172707, 17.757012623))
        make_face(mode=Mode.SUBTRACT)
        with Locations((-31.513172707, -12.392987377)):
            Rectangle(SKETCH_1_W, SKETCH_1_H, mode=Mode.SUBTRACT)
        with Locations((34.786827293, 13.907012623)):
            Rectangle(SKETCH_1_W, SKETCH_1_H, mode=Mode.SUBTRACT)
        with Locations((34.786827293, -12.392987377)):
            Rectangle(SKETCH_1_W, SKETCH_1_H, mode=Mode.SUBTRACT)
    extrude(amount=EXTRUDE_1_DEPTH)


solid = part.part
